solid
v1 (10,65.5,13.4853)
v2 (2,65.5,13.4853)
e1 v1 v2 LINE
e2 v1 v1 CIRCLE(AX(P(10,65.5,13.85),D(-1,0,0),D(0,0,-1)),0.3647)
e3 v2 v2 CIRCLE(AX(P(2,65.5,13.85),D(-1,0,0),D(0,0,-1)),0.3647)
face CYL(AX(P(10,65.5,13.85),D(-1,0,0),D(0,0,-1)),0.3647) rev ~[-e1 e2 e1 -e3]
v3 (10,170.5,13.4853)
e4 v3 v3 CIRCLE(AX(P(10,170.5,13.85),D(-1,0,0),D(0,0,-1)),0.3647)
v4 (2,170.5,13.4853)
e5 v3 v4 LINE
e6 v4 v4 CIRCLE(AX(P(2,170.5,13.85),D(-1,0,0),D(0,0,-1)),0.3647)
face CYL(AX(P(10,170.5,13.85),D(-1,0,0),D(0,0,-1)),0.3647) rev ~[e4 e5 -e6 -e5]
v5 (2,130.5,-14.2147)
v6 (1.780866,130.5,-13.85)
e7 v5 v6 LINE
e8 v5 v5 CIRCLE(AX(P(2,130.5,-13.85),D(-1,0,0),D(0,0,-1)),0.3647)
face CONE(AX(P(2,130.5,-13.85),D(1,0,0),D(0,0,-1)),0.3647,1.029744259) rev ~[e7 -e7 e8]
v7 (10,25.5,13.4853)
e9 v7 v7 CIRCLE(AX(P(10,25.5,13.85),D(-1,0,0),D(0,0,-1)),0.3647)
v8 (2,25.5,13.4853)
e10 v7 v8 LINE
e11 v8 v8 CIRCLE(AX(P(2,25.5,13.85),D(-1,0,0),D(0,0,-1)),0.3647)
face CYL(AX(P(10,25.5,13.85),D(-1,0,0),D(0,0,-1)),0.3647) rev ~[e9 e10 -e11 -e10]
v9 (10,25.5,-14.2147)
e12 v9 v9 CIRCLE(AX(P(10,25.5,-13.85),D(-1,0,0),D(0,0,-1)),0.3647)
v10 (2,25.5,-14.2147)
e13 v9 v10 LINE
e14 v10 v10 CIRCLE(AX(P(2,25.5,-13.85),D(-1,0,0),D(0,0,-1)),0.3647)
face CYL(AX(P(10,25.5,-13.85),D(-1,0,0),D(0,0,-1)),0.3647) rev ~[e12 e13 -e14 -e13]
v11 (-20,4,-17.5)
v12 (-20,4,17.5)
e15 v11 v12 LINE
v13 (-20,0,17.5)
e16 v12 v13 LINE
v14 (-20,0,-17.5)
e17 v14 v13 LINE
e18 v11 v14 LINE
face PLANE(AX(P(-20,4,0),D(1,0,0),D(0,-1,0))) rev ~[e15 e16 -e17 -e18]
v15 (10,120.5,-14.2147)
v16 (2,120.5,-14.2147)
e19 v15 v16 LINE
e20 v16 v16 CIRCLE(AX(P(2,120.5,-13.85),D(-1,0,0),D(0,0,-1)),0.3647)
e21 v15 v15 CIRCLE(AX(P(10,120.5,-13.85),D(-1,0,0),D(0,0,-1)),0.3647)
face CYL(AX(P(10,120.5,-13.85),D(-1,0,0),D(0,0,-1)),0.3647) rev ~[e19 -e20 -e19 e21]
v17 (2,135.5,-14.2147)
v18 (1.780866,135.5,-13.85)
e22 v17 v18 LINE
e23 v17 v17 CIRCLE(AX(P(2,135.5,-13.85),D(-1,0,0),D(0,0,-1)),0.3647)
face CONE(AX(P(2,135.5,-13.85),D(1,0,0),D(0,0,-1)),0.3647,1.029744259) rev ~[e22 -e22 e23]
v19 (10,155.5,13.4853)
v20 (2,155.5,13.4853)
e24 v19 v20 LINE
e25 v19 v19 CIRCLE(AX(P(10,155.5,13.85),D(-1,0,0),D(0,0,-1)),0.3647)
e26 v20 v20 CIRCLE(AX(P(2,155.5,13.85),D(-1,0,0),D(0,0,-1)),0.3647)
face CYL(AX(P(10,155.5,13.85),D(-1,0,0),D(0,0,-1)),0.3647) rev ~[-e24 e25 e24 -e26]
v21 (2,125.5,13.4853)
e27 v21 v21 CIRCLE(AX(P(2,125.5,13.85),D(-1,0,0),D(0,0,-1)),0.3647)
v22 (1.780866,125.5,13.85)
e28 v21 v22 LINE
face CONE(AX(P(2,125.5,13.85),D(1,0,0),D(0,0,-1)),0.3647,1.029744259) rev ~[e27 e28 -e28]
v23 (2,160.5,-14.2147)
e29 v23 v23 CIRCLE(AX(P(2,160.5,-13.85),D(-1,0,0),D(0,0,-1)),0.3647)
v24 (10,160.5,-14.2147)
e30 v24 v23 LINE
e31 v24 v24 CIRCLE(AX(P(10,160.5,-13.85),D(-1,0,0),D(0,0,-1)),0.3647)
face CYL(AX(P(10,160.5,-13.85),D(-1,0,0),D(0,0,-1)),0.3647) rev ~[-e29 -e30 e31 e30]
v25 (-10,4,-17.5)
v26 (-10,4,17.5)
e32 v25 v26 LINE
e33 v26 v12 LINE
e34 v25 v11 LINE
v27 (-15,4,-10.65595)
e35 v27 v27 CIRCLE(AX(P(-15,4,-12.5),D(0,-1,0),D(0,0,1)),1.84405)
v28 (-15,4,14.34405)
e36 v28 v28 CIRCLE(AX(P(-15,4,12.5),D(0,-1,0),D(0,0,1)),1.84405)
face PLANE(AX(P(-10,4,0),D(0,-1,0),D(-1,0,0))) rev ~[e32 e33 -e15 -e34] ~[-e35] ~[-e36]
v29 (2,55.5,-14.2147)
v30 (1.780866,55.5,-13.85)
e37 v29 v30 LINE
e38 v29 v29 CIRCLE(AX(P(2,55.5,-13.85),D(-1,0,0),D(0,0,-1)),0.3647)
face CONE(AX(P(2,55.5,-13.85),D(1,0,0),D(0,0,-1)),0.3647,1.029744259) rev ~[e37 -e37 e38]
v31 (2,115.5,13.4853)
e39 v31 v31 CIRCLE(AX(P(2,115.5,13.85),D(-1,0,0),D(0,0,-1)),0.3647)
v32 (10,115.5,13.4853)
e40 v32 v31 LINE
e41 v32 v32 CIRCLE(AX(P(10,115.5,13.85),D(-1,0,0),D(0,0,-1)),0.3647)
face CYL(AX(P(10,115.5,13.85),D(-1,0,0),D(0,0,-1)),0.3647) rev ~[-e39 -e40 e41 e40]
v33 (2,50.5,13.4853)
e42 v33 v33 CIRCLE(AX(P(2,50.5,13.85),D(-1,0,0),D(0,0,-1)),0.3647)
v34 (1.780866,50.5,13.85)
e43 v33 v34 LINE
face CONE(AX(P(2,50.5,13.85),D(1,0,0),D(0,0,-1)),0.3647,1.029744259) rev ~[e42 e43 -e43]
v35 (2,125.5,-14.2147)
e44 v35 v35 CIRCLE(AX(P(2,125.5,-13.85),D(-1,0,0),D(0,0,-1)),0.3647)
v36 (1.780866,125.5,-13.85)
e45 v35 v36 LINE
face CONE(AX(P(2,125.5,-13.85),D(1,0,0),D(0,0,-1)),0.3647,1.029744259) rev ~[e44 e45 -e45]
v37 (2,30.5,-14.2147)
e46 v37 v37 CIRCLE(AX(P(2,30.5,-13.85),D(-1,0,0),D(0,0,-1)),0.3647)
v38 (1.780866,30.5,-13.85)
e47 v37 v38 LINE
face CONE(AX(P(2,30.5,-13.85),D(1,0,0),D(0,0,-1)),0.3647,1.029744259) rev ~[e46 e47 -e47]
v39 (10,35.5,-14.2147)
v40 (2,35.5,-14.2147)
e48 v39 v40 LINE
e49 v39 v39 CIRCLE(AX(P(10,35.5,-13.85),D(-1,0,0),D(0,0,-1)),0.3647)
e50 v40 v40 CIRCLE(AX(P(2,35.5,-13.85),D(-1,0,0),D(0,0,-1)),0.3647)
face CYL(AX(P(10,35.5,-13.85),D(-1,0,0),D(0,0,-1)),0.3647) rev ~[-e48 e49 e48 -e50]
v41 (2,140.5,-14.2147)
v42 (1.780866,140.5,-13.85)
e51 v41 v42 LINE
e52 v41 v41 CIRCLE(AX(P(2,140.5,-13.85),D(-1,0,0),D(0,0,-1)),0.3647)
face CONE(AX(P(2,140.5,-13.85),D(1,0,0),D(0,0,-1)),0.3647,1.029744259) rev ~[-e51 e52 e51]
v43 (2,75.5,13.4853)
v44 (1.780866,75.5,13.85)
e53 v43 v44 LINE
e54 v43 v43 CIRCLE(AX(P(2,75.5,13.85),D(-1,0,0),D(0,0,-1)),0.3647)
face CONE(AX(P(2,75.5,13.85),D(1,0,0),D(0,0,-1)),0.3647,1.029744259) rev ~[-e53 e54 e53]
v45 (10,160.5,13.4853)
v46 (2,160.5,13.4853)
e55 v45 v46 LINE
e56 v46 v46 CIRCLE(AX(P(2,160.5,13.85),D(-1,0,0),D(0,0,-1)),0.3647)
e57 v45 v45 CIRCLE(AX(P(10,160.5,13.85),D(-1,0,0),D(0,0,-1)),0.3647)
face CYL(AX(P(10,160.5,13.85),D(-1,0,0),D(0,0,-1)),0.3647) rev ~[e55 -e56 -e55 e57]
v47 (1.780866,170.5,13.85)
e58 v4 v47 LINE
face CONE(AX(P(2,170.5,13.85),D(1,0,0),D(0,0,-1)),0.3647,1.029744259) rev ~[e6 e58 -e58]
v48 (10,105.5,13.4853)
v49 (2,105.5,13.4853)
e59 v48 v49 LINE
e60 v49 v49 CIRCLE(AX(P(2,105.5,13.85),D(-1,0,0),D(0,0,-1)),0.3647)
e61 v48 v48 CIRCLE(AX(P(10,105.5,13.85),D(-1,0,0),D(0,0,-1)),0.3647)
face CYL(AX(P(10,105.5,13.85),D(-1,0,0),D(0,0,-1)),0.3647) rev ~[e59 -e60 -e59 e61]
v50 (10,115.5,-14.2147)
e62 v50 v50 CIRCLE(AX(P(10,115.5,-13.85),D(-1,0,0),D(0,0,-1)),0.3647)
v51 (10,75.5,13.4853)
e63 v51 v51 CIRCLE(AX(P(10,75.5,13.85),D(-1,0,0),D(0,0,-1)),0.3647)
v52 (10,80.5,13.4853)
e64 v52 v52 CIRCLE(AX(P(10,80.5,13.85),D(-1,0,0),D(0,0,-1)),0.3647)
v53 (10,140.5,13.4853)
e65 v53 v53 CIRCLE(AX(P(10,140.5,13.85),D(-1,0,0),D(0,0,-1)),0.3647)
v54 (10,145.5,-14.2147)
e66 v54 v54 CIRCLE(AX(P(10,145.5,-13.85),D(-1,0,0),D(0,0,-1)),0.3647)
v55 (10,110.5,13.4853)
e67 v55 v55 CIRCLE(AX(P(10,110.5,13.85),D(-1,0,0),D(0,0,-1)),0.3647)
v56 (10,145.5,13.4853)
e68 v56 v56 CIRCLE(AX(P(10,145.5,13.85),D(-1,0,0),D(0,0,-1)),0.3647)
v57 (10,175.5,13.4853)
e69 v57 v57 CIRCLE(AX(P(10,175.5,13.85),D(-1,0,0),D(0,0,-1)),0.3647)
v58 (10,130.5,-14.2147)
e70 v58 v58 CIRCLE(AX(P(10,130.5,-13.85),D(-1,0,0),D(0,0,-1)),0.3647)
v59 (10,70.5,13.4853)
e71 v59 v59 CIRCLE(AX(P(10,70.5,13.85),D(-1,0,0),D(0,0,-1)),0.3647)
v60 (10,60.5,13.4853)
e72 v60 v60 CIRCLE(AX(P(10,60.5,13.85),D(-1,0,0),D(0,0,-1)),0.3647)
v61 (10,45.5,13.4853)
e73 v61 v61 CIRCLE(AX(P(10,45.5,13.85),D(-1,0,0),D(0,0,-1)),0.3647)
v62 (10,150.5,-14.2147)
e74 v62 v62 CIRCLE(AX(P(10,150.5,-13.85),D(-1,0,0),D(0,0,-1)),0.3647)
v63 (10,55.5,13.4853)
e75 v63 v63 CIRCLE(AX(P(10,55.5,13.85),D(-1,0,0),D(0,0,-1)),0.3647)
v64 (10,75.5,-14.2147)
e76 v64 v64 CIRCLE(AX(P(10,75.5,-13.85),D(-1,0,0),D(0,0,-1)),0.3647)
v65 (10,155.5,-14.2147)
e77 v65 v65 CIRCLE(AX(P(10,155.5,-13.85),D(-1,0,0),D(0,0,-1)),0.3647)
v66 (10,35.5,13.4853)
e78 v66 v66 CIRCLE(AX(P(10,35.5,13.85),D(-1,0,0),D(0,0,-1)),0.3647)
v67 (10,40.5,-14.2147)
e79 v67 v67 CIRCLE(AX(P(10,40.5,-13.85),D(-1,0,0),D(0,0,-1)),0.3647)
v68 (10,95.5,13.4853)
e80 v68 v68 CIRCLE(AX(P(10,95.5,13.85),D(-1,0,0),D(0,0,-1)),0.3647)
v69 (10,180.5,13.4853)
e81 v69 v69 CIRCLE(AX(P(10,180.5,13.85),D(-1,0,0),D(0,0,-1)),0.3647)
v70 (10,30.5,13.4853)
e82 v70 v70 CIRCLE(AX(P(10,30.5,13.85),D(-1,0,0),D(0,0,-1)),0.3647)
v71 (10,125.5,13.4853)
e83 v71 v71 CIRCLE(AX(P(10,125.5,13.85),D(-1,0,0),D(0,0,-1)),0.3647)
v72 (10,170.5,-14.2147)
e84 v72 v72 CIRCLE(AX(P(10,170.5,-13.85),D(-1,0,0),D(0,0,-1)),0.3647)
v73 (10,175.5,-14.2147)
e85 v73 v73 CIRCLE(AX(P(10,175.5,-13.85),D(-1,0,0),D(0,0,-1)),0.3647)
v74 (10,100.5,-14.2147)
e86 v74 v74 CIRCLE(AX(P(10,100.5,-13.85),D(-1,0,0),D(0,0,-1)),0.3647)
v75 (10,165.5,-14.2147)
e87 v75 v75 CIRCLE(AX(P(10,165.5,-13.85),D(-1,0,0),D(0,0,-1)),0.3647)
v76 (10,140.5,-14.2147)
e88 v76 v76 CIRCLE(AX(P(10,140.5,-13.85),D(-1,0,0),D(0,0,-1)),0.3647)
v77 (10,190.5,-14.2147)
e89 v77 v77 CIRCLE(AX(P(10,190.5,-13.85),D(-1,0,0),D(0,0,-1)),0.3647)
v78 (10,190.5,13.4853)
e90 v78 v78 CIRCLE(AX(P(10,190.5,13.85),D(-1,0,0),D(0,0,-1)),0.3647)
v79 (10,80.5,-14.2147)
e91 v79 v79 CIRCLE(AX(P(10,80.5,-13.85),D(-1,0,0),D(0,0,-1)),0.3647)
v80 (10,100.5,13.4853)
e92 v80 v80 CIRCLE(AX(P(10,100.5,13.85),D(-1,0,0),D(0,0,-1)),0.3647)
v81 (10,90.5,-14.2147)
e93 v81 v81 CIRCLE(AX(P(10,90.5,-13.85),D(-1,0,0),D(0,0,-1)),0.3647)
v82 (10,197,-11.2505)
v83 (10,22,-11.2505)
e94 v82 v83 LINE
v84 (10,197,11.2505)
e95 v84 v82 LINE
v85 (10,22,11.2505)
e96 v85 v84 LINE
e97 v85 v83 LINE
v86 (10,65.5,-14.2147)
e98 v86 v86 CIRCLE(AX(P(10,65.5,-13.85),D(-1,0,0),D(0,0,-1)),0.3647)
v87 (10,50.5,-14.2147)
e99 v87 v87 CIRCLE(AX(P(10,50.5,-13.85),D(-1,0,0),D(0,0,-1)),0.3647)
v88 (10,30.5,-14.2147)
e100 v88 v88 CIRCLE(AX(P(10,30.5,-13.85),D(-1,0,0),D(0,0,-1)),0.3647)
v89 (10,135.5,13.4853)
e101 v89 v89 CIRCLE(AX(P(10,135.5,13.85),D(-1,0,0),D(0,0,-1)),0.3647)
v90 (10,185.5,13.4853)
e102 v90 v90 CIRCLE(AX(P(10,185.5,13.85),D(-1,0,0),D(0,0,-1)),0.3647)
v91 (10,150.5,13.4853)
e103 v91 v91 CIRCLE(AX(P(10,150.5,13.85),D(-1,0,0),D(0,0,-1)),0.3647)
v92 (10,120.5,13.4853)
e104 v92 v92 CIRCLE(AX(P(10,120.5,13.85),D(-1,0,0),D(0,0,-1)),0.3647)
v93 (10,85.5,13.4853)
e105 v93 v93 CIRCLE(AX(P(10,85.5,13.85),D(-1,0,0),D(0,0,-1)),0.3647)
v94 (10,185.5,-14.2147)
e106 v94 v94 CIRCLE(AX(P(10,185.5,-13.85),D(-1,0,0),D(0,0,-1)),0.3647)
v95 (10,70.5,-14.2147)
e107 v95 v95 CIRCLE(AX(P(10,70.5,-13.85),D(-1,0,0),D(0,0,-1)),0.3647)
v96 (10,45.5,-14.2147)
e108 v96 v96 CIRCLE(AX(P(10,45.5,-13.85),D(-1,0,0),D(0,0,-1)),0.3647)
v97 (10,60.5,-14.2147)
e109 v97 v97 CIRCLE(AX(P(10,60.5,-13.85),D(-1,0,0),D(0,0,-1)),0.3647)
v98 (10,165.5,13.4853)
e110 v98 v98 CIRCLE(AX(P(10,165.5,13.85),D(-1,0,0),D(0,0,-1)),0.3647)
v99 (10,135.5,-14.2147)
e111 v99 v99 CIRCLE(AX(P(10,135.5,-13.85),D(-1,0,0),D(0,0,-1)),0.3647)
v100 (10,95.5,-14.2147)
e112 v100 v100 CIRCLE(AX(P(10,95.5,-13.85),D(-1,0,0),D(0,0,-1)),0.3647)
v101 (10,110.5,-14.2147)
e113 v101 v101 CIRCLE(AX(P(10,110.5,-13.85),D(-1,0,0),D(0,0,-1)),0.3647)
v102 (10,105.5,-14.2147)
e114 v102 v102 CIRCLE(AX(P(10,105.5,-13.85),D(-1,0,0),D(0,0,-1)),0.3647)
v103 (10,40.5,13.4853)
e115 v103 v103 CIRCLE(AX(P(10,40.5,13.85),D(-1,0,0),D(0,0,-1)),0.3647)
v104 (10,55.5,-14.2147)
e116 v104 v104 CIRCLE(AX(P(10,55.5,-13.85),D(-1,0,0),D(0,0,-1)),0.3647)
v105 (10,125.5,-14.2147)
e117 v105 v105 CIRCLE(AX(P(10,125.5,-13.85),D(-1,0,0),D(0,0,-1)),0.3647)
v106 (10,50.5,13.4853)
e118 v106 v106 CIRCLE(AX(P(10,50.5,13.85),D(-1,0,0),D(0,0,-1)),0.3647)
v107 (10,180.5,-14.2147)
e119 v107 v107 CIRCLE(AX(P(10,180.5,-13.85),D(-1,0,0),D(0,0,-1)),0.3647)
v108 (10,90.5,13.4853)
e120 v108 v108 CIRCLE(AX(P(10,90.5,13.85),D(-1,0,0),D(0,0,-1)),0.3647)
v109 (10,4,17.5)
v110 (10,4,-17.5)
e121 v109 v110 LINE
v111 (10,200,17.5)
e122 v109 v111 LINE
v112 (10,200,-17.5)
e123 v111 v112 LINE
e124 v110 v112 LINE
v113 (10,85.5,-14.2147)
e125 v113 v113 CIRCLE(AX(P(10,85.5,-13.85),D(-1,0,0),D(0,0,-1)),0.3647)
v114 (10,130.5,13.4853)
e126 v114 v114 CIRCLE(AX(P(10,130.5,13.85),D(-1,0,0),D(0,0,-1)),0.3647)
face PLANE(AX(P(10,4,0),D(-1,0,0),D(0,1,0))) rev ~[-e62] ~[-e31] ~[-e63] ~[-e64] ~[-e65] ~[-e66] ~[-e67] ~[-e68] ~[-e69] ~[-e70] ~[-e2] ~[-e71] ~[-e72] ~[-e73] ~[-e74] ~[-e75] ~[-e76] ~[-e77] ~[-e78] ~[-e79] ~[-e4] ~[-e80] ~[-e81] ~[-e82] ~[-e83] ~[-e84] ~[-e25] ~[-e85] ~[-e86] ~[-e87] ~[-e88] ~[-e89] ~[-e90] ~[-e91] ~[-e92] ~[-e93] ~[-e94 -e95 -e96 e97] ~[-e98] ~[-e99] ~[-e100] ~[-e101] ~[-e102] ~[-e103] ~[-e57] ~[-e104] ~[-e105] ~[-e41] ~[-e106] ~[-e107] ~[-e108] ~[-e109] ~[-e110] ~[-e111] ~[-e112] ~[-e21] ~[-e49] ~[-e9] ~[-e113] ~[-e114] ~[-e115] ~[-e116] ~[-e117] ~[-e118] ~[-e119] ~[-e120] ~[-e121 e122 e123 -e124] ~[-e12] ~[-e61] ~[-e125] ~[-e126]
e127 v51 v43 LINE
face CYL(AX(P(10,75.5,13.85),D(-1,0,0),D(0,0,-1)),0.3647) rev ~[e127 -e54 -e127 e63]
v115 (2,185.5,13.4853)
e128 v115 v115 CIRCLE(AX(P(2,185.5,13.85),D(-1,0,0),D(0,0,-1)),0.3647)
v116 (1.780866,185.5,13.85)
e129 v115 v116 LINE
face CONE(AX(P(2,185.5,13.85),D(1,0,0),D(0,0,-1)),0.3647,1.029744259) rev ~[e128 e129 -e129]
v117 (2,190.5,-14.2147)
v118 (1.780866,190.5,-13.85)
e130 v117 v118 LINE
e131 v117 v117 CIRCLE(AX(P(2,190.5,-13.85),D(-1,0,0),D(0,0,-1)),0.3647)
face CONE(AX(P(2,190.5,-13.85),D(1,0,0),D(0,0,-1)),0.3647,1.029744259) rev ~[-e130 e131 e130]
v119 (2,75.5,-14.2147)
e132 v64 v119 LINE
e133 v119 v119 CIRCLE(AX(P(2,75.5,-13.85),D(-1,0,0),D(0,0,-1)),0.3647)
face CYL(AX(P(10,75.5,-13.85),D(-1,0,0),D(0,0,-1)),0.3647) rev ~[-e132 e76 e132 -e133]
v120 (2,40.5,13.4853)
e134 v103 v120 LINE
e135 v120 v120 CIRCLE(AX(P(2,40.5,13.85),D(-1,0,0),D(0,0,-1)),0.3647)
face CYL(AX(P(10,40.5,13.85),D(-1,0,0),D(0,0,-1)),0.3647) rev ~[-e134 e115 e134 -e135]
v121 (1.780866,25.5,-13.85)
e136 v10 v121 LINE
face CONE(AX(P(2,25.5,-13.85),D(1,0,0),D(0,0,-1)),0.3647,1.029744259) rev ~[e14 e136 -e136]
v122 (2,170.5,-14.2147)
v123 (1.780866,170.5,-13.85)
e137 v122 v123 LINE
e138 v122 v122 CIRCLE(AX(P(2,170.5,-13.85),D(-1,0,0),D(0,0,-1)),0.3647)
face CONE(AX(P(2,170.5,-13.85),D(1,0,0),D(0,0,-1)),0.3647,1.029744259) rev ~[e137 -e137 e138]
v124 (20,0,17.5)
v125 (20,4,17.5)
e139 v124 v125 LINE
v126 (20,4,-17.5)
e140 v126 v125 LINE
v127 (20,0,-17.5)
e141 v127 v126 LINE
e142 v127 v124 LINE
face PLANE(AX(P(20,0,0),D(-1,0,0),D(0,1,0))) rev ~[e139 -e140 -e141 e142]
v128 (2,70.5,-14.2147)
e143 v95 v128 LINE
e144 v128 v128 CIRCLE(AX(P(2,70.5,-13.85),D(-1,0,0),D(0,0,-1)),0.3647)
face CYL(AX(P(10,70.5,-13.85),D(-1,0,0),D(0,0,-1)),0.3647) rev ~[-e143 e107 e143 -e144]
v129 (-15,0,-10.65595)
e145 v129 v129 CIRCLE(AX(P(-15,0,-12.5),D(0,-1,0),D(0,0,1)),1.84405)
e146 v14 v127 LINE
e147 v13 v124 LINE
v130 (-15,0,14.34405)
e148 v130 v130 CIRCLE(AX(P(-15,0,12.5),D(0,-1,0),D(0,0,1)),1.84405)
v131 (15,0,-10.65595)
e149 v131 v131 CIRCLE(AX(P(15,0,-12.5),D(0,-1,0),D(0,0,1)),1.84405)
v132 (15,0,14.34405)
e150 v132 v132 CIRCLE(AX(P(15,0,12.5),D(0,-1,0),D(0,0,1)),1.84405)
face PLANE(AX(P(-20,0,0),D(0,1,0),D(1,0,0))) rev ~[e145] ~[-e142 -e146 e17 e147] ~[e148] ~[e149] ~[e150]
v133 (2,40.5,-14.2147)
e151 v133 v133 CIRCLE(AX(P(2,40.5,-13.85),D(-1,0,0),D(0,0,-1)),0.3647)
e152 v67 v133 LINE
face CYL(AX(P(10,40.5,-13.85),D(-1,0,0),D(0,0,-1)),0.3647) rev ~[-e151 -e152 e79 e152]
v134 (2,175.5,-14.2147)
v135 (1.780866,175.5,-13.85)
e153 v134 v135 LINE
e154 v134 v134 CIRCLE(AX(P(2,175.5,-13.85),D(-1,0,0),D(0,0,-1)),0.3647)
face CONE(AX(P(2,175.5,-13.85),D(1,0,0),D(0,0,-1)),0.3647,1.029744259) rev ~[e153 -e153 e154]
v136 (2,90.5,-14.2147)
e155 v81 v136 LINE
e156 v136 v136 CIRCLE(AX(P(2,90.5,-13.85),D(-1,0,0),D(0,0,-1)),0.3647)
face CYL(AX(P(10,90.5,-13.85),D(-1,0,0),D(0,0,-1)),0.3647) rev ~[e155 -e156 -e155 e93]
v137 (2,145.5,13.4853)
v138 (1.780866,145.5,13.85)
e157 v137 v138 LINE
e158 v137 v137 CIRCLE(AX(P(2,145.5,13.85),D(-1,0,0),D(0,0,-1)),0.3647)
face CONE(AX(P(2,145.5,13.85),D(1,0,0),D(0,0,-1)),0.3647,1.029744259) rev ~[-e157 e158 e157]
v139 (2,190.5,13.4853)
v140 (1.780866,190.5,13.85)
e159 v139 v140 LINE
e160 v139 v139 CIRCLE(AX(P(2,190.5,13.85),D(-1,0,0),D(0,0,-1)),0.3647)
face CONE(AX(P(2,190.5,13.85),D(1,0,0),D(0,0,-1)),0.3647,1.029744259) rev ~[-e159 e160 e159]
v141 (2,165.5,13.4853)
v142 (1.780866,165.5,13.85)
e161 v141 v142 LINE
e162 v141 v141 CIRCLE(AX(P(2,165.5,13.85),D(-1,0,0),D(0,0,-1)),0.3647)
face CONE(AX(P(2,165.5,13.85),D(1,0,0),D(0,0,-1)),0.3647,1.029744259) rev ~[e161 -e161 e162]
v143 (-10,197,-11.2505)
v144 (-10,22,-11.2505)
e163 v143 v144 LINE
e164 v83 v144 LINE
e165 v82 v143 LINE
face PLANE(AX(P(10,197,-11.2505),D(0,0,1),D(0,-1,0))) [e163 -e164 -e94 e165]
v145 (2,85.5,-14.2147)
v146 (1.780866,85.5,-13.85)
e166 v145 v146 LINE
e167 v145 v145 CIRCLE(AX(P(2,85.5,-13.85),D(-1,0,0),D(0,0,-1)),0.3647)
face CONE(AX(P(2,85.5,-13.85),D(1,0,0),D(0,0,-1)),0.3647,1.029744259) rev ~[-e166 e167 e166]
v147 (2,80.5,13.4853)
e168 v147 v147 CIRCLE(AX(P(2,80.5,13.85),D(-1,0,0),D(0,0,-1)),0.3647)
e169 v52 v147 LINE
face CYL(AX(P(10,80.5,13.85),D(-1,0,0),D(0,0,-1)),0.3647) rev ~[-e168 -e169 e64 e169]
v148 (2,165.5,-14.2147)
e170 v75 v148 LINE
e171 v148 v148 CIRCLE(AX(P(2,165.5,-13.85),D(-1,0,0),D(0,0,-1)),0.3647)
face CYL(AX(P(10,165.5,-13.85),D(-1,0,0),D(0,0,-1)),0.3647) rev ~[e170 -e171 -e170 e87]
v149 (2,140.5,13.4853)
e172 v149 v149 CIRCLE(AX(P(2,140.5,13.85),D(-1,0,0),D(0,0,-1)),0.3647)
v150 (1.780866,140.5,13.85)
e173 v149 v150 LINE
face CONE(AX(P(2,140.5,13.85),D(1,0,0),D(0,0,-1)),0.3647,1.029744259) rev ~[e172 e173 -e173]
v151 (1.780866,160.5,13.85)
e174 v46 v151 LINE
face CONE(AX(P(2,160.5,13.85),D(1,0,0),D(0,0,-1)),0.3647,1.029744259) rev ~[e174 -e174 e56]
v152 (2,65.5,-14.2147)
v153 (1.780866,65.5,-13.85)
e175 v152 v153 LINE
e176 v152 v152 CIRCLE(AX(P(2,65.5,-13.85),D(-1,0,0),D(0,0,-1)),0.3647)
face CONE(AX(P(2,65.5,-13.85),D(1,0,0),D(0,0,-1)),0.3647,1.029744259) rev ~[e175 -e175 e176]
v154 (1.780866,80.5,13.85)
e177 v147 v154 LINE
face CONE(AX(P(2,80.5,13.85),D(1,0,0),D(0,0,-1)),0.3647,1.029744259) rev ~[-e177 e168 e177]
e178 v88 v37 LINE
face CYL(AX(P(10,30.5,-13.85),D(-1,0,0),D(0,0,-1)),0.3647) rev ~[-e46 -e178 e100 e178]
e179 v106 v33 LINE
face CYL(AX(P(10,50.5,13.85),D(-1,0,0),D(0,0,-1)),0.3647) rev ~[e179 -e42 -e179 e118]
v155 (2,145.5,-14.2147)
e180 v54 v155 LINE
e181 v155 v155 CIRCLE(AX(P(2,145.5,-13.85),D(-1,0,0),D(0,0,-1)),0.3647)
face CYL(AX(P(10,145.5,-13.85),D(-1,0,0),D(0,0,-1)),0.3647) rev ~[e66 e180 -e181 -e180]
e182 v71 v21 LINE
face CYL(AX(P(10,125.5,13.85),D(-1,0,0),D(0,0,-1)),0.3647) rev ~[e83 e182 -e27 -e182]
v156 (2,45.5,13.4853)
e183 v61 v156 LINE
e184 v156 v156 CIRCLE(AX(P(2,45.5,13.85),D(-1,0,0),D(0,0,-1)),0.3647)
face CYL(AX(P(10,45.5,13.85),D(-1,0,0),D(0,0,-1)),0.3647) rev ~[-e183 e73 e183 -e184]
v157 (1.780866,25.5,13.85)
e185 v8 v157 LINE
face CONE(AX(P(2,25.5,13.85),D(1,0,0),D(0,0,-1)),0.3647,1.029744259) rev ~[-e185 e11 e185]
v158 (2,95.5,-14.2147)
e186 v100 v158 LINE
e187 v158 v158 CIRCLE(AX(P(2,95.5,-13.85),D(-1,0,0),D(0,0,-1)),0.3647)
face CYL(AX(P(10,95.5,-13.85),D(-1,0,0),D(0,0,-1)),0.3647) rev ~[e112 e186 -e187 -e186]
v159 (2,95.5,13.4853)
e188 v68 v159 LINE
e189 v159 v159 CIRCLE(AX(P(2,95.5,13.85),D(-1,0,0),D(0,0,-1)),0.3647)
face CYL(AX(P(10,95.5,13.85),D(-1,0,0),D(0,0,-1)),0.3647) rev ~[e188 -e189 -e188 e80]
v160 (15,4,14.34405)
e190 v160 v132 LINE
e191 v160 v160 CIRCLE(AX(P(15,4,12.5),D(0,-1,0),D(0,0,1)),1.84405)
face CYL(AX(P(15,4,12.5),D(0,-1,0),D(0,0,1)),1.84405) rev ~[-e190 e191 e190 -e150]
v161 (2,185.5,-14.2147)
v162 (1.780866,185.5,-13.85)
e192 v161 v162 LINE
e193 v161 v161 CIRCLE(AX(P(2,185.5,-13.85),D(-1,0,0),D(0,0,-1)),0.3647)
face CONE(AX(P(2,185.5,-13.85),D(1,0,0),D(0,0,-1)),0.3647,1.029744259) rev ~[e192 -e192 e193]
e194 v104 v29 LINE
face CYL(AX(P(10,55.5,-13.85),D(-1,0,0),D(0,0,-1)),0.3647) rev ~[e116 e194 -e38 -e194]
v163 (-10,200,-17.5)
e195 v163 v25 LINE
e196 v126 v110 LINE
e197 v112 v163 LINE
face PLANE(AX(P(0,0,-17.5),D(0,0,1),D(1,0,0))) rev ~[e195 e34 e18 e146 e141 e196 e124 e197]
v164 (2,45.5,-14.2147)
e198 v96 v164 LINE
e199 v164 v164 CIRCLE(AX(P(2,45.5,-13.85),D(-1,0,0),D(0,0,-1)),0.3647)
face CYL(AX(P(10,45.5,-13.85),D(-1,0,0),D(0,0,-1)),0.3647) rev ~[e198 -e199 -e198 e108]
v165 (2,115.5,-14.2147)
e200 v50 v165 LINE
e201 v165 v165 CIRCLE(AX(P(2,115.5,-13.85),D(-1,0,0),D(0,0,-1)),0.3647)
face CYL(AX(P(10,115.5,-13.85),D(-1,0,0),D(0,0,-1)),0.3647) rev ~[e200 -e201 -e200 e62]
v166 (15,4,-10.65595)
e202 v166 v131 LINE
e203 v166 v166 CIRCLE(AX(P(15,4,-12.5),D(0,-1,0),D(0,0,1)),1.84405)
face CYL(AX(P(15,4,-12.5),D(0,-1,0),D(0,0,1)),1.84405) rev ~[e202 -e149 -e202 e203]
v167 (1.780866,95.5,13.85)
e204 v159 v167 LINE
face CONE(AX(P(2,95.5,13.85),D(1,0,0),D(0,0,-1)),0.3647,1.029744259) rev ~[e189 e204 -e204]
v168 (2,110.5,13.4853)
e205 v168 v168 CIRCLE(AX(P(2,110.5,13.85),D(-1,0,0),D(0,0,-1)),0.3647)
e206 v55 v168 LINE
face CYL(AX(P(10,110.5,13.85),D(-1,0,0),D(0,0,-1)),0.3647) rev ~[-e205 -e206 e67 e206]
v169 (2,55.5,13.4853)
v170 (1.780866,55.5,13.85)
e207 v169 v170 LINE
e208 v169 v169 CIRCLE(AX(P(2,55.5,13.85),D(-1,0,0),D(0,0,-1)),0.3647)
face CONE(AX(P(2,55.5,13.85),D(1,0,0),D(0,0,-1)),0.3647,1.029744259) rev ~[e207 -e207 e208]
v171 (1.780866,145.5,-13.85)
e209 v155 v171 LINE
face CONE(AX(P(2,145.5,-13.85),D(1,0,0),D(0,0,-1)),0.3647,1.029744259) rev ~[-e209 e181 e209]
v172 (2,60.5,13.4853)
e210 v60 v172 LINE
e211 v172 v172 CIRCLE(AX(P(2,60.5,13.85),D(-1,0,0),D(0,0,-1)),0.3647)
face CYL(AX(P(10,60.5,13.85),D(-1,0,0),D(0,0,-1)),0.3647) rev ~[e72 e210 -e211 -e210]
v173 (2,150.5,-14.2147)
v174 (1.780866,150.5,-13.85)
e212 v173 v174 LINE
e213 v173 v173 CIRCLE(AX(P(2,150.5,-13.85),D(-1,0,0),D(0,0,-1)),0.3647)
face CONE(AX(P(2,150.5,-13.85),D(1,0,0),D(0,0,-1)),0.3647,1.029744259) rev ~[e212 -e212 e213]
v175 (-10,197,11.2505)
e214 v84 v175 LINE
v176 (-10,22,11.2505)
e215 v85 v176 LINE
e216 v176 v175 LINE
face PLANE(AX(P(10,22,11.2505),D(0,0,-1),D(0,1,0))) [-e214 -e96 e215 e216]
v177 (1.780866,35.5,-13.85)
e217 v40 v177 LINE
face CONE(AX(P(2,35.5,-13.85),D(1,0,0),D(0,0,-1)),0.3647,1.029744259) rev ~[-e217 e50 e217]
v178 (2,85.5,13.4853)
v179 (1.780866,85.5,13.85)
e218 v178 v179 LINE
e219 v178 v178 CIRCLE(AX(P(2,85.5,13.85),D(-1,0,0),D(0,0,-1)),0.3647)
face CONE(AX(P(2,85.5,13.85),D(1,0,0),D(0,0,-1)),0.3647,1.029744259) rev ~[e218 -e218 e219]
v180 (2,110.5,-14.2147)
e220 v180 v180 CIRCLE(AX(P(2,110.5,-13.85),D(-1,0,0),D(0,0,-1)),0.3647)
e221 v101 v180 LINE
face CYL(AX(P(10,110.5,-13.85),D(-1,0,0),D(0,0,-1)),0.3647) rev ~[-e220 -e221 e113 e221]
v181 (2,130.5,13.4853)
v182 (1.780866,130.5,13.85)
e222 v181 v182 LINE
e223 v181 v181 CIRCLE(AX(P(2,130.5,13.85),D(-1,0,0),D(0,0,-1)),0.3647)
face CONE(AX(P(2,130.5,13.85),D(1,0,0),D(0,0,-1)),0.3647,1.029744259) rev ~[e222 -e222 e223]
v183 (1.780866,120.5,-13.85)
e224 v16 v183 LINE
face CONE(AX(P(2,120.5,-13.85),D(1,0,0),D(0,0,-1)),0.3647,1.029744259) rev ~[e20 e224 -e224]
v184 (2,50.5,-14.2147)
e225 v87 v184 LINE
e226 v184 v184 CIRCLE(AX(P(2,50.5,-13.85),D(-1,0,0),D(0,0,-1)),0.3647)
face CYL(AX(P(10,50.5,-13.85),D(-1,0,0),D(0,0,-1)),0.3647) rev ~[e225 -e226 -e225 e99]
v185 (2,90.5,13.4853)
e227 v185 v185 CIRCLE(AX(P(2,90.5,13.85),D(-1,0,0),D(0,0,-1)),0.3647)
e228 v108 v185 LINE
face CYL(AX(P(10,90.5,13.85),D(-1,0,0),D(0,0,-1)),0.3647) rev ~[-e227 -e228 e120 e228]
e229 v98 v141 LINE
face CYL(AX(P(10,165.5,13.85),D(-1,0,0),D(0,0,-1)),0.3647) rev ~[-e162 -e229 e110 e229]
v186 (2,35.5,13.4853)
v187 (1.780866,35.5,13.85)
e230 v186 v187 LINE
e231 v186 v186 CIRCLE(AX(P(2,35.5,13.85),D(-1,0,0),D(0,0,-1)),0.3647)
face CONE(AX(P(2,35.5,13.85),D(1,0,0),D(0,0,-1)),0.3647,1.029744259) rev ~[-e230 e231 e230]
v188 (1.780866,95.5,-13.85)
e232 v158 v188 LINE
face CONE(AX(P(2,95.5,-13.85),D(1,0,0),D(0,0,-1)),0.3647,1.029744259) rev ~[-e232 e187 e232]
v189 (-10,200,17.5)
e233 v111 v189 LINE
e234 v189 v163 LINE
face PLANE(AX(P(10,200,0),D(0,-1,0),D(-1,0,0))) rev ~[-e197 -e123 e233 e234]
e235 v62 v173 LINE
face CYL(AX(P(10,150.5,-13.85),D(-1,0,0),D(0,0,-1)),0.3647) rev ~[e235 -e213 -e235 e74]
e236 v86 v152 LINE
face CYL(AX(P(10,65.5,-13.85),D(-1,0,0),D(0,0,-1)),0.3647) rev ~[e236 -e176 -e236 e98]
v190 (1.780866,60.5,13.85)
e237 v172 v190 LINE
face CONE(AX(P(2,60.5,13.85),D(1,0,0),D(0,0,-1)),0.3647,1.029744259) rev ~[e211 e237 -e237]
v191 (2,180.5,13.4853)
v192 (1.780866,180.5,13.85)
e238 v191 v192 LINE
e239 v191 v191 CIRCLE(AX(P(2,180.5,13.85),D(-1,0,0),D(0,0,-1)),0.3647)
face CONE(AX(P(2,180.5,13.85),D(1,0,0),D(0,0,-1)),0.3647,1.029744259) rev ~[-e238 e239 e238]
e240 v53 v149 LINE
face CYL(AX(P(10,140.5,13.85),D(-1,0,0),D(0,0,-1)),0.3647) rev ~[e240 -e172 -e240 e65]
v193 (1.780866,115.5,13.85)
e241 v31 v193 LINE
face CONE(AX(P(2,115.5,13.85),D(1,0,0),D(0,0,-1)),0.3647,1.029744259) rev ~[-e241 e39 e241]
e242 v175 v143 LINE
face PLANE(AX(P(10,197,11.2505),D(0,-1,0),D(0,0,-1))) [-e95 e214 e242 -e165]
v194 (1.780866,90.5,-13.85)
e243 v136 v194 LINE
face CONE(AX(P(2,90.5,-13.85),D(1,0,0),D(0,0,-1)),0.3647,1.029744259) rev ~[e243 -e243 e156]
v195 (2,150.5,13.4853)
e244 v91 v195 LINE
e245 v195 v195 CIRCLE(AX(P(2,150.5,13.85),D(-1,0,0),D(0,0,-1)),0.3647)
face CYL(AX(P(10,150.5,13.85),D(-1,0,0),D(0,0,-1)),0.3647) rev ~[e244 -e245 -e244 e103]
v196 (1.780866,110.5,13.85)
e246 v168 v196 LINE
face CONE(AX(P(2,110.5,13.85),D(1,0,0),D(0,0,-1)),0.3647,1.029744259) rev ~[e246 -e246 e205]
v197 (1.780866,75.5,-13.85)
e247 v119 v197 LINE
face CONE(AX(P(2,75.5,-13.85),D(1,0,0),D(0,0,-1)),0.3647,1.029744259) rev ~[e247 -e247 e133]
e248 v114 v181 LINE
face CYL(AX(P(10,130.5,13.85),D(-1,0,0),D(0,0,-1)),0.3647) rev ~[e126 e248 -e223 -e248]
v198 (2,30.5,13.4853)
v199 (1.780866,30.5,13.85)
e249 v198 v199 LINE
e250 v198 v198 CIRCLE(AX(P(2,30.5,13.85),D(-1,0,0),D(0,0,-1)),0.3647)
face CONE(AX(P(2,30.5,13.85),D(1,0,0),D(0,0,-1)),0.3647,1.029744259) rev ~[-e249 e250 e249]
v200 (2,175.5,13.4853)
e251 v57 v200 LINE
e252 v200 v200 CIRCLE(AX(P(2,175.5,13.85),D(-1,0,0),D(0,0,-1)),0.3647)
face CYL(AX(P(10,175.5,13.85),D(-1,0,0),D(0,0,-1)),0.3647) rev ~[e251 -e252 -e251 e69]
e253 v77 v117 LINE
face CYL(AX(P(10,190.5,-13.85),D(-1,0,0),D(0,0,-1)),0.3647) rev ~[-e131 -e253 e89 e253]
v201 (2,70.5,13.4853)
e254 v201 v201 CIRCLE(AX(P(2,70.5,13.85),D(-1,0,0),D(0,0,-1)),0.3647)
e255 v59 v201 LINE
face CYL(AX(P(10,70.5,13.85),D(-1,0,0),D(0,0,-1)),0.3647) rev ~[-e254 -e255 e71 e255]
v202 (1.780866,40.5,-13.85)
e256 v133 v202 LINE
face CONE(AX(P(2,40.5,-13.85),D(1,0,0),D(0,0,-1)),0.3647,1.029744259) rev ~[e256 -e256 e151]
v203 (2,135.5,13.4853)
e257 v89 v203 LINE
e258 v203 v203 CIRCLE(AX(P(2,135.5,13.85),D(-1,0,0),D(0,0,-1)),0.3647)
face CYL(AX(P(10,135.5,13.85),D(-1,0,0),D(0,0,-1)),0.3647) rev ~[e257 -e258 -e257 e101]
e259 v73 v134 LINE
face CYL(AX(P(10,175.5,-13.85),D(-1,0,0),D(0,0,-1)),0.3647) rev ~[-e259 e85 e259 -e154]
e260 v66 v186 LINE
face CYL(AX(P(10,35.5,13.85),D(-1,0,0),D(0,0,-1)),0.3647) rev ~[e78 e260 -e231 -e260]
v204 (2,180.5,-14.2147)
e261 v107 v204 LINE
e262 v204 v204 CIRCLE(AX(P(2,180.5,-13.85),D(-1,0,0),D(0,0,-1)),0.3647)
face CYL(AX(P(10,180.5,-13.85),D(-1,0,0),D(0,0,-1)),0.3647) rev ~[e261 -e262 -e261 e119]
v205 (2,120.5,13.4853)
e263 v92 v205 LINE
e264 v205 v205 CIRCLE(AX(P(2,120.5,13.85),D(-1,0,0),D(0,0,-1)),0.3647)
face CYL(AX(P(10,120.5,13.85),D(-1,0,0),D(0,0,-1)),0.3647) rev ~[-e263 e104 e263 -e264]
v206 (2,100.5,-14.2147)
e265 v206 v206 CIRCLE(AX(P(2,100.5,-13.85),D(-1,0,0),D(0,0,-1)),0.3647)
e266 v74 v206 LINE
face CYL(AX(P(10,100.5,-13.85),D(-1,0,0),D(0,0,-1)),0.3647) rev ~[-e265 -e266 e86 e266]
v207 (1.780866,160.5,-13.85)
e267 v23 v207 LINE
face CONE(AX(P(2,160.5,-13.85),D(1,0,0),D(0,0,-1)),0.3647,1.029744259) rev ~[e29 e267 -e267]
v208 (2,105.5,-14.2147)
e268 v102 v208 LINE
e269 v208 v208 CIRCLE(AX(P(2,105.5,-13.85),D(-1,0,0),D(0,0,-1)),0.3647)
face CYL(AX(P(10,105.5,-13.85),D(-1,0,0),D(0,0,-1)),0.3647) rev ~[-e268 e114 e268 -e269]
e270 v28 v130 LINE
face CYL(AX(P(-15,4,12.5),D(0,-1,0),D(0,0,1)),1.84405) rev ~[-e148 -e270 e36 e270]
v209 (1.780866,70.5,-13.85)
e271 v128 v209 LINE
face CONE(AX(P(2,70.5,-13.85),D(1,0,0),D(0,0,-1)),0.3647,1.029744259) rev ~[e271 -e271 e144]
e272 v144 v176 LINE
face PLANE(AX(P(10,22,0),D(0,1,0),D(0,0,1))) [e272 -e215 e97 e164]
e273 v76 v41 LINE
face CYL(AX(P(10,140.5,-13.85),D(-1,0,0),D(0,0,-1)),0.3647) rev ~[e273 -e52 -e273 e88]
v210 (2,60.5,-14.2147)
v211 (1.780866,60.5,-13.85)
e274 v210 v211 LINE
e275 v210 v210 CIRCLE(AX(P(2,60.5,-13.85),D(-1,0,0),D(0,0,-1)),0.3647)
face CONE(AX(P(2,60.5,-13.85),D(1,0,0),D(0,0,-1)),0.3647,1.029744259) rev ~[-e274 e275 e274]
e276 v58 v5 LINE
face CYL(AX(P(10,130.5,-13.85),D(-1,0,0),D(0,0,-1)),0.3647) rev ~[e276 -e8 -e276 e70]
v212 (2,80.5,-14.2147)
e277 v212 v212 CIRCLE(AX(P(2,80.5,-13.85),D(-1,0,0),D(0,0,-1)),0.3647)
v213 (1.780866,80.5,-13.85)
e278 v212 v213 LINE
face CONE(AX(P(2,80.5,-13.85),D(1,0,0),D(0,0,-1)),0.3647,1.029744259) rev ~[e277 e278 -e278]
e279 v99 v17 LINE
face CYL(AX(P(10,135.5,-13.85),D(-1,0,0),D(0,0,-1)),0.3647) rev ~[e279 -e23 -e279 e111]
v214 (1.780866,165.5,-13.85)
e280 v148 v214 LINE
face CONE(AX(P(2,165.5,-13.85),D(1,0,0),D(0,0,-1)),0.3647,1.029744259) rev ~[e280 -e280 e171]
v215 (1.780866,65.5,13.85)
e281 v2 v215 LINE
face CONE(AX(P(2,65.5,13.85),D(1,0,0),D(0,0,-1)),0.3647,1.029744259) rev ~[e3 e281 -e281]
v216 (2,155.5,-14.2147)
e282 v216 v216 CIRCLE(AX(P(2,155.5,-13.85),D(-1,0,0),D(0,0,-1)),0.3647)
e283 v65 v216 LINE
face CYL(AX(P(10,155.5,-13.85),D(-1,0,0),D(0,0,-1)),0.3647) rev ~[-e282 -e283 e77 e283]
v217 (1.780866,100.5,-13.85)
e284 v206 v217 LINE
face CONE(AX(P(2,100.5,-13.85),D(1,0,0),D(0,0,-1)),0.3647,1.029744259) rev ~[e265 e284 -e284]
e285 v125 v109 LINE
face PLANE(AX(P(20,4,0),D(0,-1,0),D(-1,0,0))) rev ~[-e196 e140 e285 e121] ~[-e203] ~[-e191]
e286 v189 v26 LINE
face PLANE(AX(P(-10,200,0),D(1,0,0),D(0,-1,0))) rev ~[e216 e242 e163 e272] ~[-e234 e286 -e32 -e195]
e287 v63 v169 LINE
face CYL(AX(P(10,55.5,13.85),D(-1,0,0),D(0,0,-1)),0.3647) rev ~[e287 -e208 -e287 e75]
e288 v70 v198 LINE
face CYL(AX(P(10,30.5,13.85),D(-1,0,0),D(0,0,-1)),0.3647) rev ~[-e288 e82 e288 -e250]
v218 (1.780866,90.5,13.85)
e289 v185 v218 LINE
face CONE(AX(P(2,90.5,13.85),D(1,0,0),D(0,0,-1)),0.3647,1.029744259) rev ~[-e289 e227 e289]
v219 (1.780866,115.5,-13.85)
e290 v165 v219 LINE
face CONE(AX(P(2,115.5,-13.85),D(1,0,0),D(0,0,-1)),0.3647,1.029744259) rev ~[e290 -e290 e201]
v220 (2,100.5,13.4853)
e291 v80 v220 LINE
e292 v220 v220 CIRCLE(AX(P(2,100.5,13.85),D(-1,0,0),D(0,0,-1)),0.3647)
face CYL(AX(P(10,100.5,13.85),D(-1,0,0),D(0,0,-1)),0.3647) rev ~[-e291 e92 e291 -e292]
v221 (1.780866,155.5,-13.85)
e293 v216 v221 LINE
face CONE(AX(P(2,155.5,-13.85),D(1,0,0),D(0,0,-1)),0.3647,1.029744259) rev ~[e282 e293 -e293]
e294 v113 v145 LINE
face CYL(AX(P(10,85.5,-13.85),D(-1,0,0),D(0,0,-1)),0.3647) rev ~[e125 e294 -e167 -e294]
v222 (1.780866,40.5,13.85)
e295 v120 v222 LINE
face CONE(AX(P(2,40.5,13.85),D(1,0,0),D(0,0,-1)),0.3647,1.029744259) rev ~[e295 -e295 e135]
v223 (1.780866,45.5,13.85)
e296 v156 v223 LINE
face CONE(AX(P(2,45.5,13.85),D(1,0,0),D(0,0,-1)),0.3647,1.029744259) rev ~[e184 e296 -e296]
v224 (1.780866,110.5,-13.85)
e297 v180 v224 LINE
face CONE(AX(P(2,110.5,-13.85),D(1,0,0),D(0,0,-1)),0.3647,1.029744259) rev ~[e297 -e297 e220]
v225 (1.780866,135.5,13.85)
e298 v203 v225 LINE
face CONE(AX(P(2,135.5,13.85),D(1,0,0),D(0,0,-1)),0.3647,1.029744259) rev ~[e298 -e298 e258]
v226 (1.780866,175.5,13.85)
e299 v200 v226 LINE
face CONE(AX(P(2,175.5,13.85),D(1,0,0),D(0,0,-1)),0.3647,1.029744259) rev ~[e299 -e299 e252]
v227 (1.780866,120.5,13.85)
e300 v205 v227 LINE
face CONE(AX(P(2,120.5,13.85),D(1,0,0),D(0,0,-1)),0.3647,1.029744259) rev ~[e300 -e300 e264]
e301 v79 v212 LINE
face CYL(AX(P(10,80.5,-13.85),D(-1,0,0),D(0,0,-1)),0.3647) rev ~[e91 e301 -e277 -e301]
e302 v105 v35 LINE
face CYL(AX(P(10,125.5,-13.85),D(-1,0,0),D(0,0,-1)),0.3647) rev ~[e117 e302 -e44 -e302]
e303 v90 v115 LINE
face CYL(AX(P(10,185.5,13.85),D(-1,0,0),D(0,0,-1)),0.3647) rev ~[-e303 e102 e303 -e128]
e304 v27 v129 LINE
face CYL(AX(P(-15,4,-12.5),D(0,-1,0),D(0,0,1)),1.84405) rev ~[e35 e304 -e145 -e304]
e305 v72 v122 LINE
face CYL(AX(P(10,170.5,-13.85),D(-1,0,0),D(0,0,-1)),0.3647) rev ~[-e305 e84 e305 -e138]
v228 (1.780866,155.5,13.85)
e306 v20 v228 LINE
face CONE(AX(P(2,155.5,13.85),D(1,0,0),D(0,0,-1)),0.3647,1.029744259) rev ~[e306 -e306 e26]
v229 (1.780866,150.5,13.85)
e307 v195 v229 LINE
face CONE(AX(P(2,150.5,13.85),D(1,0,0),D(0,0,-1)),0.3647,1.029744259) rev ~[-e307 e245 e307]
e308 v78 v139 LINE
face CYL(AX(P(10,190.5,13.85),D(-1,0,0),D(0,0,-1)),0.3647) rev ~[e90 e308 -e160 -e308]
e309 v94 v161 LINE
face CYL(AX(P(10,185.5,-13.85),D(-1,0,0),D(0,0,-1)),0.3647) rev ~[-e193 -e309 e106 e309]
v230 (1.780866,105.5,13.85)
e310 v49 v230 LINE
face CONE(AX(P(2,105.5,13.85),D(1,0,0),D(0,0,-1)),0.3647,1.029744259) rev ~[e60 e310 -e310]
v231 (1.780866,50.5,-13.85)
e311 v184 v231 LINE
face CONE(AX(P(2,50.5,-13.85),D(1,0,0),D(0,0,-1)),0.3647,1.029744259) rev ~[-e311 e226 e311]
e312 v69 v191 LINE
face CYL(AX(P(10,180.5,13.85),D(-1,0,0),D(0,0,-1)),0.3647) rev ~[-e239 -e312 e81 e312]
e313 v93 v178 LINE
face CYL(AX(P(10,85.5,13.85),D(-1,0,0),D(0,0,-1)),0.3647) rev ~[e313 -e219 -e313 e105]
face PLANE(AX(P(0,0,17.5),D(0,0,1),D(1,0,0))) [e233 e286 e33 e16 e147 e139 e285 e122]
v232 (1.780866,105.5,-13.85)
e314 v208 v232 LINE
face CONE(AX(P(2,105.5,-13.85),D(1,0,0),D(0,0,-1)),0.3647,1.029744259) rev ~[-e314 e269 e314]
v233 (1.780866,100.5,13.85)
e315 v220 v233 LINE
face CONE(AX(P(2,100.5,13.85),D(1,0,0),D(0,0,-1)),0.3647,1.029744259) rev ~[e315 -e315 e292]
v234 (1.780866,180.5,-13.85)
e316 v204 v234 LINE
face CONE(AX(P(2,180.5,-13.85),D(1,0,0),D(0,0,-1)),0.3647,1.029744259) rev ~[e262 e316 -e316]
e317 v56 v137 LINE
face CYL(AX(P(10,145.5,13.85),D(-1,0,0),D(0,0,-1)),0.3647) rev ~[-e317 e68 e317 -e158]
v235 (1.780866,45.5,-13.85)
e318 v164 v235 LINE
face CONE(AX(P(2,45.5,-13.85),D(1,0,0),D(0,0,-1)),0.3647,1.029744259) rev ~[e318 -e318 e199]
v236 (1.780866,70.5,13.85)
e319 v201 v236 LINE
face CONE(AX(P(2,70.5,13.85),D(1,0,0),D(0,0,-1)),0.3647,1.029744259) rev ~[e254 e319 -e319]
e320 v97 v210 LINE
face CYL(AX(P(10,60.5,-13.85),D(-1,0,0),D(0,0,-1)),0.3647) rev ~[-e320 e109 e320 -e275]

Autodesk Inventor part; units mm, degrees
sketch "Skizze1" plane through (0, 0, 0) normal (0, 0, 1) x (1, 0, 0)
  line L0 (-10, 4) -> (10, 4)
  line L1 (-20, 0) -> (20, 0)
  line L2 (20, 0) -> (20, 4)
  line L3 (20, 4) -> (-20, 4)
  line L4 (-20, 4) -> (-20, 0)
  line L5 (-10, 4) -> (10, 4)
  line L6 (10, 4) -> (10, 200)
  line L7 (10, 200) -> (-10, 200)
  line L8 (-10, 200) -> (-10, 4)
  point P0 (0, 0)
  dimension "d4" = 40
  dimension "d5" = 4
  dimension "d15" = 20
  dimension "d16" = 196
extrude "Extrusion1" add sketch "Skizze1" along normal mid plane 35
sketch "Skizze3" plane through (10, 4, 17.5) normal (1, 0, 0) x (0, 0, -1)
  line L0 (6.2495, 193) -> (28.7505, 193)
  line L1 (28.7505, 193) -> (28.7505, 18)
  line L2 (28.7505, 18) -> (6.2495, 18)
  line L3 (6.2495, 18) -> (6.2495, 193)
  line L4 (17.5, -44) -> (17.5, 236) projected
  line L5 (35, 196) -> (0, 196) projected
  line L6 (35, 196) -> (35, 0) projected
  line L7 (0, 0) -> (0, 196) projected
  point P0 (17.5, -4)
  dimension "d17" = 22.501
  dimension "d18" = 175
  dimension "d19" = 3
  dimension "d22" = 6.2495
  dimension "d27" = 6.2495
extrude "Extrusion3" cut sketch "Skizze3" against normal through all
sketch "Skizze4" plane through (10, 4, 17.5) normal (1, 0, 0) x (0, 0, -1)
  circle A0 centre (3.65, 186.5) radius 0.5
  line L0 (6.2495, 193) -> (28.7505, 193) projected
  line L1 (17.5, 159.9613) -> (17.5, 155.7748)
  circle A1 centre (31.35, 186.5) radius 0.5
  line L2 (17.5, -44) -> (17.5, 236) projected
  line L3 (6.2495, 18) -> (6.2495, 193) projected
  line L4 (28.7505, 193) -> (28.7505, 18) projected
  circle A2 centre (3.65, 181.5) radius 0.5
  circle A3 centre (31.35, 181.5) radius 0.5
  circle A4 centre (3.65, 176.5) radius 0.5
  circle A5 centre (31.35, 176.5) radius 0.5
  circle A6 centre (3.65, 171.5) radius 0.5
  circle A7 centre (31.35, 171.5) radius 0.5
  circle A8 centre (3.65, 166.5) radius 0.5
  circle A9 centre (31.35, 166.5) radius 0.5
  circle A10 centre (3.65, 161.5) radius 0.5
  circle A11 centre (31.35, 161.5) radius 0.5
  circle A12 centre (3.65, 156.5) radius 0.5
  circle A13 centre (31.35, 156.5) radius 0.5
  circle A14 centre (3.65, 151.5) radius 0.5
  circle A15 centre (31.35, 151.5) radius 0.5
  circle A16 centre (3.65, 146.5) radius 0.5
  circle A17 centre (31.35, 146.5) radius 0.5
  circle A18 centre (3.65, 141.5) radius 0.5
  circle A19 centre (31.35, 141.5) radius 0.5
  circle A20 centre (3.65, 136.5) radius 0.5
  circle A21 centre (31.35, 136.5) radius 0.5
  circle A22 centre (3.65, 131.5) radius 0.5
  circle A23 centre (31.35, 131.5) radius 0.5
  circle A24 centre (3.65, 126.5) radius 0.5
  circle A25 centre (31.35, 126.5) radius 0.5
  circle A26 centre (3.65, 121.5) radius 0.5
  circle A27 centre (31.35, 121.5) radius 0.5
  circle A28 centre (3.65, 116.5) radius 0.5
  circle A29 centre (31.35, 116.5) radius 0.5
  circle A30 centre (3.65, 111.5) radius 0.5
  circle A31 centre (31.35, 111.5) radius 0.5
  circle A32 centre (3.65, 106.5) radius 0.5
  circle A33 centre (31.35, 106.5) radius 0.5
  circle A34 centre (3.65, 101.5) radius 0.5
  circle A35 centre (31.35, 101.5) radius 0.5
  circle A36 centre (3.65, 96.5) radius 0.5
  circle A37 centre (31.35, 96.5) radius 0.5
  circle A38 centre (3.65, 91.5) radius 0.5
  circle A39 centre (31.35, 91.5) radius 0.5
  circle A40 centre (3.65, 86.5) radius 0.5
  circle A41 centre (31.35, 86.5) radius 0.5
  circle A42 centre (3.65, 81.5) radius 0.5
  circle A43 centre (31.35, 81.5) radius 0.5
  circle A44 centre (3.65, 76.5) radius 0.5
  circle A45 centre (31.35, 76.5) radius 0.5
  circle A46 centre (3.65, 71.5) radius 0.5
  circle A47 centre (31.35, 71.5) radius 0.5
  point P0 (17.5, -4)
  dimension "d23" = 1
  dimension "d24" = 6.5
  dimension "d25" = 27.7
  dimension "d26" = 22.501
  dimension "d30" = 5
hole "Bohrung1" at (10, 190.5, 13.85) direction (-1, 0, 0) diameter 0.7294 depth 8 tip angle 118 thread size "M1x0.25" class "6H" standard "ISO Metric profile"
pattern_linear "Rechteckige Anordnung1" count 34 spacing 5 along (0, -1, 0) count 2 spacing 27.7 along (0, 0, -1) of "Bohrung1"
sketch "Skizze5" plane through (10, 4, 17.5) normal (0, 1, 0) x (1, 0, 0)
  point P0 (-10, 17.5)
  point P1 (5, 5)
  point P2 (5, 30)
hole "Bohrung2" at (15, 4, 12.5) at (15, 4, -12.5) direction (0, -1, 0) diameter 3.6881 depth 13 tip angle 118 thread size "M4.5x0.75" class "6H" standard "ISO Metric profile"
sketch "Skizze6" plane through (-20, 4, 17.5) normal (0, 1, 0) x (1, 0, 0)
  point P0 (20, 17.5)
  point P1 (5, 30)
  point P2 (5, 5)
hole "Bohrung3" at (-15, 4, -12.5) at (-15, 4, 12.5) direction (0, -1, 0) diameter 3.6881 depth 13 tip angle 118 thread size "M4.5x0.75" class "6H" standard "ISO Metric profile"
properties part number "PushSupport"
